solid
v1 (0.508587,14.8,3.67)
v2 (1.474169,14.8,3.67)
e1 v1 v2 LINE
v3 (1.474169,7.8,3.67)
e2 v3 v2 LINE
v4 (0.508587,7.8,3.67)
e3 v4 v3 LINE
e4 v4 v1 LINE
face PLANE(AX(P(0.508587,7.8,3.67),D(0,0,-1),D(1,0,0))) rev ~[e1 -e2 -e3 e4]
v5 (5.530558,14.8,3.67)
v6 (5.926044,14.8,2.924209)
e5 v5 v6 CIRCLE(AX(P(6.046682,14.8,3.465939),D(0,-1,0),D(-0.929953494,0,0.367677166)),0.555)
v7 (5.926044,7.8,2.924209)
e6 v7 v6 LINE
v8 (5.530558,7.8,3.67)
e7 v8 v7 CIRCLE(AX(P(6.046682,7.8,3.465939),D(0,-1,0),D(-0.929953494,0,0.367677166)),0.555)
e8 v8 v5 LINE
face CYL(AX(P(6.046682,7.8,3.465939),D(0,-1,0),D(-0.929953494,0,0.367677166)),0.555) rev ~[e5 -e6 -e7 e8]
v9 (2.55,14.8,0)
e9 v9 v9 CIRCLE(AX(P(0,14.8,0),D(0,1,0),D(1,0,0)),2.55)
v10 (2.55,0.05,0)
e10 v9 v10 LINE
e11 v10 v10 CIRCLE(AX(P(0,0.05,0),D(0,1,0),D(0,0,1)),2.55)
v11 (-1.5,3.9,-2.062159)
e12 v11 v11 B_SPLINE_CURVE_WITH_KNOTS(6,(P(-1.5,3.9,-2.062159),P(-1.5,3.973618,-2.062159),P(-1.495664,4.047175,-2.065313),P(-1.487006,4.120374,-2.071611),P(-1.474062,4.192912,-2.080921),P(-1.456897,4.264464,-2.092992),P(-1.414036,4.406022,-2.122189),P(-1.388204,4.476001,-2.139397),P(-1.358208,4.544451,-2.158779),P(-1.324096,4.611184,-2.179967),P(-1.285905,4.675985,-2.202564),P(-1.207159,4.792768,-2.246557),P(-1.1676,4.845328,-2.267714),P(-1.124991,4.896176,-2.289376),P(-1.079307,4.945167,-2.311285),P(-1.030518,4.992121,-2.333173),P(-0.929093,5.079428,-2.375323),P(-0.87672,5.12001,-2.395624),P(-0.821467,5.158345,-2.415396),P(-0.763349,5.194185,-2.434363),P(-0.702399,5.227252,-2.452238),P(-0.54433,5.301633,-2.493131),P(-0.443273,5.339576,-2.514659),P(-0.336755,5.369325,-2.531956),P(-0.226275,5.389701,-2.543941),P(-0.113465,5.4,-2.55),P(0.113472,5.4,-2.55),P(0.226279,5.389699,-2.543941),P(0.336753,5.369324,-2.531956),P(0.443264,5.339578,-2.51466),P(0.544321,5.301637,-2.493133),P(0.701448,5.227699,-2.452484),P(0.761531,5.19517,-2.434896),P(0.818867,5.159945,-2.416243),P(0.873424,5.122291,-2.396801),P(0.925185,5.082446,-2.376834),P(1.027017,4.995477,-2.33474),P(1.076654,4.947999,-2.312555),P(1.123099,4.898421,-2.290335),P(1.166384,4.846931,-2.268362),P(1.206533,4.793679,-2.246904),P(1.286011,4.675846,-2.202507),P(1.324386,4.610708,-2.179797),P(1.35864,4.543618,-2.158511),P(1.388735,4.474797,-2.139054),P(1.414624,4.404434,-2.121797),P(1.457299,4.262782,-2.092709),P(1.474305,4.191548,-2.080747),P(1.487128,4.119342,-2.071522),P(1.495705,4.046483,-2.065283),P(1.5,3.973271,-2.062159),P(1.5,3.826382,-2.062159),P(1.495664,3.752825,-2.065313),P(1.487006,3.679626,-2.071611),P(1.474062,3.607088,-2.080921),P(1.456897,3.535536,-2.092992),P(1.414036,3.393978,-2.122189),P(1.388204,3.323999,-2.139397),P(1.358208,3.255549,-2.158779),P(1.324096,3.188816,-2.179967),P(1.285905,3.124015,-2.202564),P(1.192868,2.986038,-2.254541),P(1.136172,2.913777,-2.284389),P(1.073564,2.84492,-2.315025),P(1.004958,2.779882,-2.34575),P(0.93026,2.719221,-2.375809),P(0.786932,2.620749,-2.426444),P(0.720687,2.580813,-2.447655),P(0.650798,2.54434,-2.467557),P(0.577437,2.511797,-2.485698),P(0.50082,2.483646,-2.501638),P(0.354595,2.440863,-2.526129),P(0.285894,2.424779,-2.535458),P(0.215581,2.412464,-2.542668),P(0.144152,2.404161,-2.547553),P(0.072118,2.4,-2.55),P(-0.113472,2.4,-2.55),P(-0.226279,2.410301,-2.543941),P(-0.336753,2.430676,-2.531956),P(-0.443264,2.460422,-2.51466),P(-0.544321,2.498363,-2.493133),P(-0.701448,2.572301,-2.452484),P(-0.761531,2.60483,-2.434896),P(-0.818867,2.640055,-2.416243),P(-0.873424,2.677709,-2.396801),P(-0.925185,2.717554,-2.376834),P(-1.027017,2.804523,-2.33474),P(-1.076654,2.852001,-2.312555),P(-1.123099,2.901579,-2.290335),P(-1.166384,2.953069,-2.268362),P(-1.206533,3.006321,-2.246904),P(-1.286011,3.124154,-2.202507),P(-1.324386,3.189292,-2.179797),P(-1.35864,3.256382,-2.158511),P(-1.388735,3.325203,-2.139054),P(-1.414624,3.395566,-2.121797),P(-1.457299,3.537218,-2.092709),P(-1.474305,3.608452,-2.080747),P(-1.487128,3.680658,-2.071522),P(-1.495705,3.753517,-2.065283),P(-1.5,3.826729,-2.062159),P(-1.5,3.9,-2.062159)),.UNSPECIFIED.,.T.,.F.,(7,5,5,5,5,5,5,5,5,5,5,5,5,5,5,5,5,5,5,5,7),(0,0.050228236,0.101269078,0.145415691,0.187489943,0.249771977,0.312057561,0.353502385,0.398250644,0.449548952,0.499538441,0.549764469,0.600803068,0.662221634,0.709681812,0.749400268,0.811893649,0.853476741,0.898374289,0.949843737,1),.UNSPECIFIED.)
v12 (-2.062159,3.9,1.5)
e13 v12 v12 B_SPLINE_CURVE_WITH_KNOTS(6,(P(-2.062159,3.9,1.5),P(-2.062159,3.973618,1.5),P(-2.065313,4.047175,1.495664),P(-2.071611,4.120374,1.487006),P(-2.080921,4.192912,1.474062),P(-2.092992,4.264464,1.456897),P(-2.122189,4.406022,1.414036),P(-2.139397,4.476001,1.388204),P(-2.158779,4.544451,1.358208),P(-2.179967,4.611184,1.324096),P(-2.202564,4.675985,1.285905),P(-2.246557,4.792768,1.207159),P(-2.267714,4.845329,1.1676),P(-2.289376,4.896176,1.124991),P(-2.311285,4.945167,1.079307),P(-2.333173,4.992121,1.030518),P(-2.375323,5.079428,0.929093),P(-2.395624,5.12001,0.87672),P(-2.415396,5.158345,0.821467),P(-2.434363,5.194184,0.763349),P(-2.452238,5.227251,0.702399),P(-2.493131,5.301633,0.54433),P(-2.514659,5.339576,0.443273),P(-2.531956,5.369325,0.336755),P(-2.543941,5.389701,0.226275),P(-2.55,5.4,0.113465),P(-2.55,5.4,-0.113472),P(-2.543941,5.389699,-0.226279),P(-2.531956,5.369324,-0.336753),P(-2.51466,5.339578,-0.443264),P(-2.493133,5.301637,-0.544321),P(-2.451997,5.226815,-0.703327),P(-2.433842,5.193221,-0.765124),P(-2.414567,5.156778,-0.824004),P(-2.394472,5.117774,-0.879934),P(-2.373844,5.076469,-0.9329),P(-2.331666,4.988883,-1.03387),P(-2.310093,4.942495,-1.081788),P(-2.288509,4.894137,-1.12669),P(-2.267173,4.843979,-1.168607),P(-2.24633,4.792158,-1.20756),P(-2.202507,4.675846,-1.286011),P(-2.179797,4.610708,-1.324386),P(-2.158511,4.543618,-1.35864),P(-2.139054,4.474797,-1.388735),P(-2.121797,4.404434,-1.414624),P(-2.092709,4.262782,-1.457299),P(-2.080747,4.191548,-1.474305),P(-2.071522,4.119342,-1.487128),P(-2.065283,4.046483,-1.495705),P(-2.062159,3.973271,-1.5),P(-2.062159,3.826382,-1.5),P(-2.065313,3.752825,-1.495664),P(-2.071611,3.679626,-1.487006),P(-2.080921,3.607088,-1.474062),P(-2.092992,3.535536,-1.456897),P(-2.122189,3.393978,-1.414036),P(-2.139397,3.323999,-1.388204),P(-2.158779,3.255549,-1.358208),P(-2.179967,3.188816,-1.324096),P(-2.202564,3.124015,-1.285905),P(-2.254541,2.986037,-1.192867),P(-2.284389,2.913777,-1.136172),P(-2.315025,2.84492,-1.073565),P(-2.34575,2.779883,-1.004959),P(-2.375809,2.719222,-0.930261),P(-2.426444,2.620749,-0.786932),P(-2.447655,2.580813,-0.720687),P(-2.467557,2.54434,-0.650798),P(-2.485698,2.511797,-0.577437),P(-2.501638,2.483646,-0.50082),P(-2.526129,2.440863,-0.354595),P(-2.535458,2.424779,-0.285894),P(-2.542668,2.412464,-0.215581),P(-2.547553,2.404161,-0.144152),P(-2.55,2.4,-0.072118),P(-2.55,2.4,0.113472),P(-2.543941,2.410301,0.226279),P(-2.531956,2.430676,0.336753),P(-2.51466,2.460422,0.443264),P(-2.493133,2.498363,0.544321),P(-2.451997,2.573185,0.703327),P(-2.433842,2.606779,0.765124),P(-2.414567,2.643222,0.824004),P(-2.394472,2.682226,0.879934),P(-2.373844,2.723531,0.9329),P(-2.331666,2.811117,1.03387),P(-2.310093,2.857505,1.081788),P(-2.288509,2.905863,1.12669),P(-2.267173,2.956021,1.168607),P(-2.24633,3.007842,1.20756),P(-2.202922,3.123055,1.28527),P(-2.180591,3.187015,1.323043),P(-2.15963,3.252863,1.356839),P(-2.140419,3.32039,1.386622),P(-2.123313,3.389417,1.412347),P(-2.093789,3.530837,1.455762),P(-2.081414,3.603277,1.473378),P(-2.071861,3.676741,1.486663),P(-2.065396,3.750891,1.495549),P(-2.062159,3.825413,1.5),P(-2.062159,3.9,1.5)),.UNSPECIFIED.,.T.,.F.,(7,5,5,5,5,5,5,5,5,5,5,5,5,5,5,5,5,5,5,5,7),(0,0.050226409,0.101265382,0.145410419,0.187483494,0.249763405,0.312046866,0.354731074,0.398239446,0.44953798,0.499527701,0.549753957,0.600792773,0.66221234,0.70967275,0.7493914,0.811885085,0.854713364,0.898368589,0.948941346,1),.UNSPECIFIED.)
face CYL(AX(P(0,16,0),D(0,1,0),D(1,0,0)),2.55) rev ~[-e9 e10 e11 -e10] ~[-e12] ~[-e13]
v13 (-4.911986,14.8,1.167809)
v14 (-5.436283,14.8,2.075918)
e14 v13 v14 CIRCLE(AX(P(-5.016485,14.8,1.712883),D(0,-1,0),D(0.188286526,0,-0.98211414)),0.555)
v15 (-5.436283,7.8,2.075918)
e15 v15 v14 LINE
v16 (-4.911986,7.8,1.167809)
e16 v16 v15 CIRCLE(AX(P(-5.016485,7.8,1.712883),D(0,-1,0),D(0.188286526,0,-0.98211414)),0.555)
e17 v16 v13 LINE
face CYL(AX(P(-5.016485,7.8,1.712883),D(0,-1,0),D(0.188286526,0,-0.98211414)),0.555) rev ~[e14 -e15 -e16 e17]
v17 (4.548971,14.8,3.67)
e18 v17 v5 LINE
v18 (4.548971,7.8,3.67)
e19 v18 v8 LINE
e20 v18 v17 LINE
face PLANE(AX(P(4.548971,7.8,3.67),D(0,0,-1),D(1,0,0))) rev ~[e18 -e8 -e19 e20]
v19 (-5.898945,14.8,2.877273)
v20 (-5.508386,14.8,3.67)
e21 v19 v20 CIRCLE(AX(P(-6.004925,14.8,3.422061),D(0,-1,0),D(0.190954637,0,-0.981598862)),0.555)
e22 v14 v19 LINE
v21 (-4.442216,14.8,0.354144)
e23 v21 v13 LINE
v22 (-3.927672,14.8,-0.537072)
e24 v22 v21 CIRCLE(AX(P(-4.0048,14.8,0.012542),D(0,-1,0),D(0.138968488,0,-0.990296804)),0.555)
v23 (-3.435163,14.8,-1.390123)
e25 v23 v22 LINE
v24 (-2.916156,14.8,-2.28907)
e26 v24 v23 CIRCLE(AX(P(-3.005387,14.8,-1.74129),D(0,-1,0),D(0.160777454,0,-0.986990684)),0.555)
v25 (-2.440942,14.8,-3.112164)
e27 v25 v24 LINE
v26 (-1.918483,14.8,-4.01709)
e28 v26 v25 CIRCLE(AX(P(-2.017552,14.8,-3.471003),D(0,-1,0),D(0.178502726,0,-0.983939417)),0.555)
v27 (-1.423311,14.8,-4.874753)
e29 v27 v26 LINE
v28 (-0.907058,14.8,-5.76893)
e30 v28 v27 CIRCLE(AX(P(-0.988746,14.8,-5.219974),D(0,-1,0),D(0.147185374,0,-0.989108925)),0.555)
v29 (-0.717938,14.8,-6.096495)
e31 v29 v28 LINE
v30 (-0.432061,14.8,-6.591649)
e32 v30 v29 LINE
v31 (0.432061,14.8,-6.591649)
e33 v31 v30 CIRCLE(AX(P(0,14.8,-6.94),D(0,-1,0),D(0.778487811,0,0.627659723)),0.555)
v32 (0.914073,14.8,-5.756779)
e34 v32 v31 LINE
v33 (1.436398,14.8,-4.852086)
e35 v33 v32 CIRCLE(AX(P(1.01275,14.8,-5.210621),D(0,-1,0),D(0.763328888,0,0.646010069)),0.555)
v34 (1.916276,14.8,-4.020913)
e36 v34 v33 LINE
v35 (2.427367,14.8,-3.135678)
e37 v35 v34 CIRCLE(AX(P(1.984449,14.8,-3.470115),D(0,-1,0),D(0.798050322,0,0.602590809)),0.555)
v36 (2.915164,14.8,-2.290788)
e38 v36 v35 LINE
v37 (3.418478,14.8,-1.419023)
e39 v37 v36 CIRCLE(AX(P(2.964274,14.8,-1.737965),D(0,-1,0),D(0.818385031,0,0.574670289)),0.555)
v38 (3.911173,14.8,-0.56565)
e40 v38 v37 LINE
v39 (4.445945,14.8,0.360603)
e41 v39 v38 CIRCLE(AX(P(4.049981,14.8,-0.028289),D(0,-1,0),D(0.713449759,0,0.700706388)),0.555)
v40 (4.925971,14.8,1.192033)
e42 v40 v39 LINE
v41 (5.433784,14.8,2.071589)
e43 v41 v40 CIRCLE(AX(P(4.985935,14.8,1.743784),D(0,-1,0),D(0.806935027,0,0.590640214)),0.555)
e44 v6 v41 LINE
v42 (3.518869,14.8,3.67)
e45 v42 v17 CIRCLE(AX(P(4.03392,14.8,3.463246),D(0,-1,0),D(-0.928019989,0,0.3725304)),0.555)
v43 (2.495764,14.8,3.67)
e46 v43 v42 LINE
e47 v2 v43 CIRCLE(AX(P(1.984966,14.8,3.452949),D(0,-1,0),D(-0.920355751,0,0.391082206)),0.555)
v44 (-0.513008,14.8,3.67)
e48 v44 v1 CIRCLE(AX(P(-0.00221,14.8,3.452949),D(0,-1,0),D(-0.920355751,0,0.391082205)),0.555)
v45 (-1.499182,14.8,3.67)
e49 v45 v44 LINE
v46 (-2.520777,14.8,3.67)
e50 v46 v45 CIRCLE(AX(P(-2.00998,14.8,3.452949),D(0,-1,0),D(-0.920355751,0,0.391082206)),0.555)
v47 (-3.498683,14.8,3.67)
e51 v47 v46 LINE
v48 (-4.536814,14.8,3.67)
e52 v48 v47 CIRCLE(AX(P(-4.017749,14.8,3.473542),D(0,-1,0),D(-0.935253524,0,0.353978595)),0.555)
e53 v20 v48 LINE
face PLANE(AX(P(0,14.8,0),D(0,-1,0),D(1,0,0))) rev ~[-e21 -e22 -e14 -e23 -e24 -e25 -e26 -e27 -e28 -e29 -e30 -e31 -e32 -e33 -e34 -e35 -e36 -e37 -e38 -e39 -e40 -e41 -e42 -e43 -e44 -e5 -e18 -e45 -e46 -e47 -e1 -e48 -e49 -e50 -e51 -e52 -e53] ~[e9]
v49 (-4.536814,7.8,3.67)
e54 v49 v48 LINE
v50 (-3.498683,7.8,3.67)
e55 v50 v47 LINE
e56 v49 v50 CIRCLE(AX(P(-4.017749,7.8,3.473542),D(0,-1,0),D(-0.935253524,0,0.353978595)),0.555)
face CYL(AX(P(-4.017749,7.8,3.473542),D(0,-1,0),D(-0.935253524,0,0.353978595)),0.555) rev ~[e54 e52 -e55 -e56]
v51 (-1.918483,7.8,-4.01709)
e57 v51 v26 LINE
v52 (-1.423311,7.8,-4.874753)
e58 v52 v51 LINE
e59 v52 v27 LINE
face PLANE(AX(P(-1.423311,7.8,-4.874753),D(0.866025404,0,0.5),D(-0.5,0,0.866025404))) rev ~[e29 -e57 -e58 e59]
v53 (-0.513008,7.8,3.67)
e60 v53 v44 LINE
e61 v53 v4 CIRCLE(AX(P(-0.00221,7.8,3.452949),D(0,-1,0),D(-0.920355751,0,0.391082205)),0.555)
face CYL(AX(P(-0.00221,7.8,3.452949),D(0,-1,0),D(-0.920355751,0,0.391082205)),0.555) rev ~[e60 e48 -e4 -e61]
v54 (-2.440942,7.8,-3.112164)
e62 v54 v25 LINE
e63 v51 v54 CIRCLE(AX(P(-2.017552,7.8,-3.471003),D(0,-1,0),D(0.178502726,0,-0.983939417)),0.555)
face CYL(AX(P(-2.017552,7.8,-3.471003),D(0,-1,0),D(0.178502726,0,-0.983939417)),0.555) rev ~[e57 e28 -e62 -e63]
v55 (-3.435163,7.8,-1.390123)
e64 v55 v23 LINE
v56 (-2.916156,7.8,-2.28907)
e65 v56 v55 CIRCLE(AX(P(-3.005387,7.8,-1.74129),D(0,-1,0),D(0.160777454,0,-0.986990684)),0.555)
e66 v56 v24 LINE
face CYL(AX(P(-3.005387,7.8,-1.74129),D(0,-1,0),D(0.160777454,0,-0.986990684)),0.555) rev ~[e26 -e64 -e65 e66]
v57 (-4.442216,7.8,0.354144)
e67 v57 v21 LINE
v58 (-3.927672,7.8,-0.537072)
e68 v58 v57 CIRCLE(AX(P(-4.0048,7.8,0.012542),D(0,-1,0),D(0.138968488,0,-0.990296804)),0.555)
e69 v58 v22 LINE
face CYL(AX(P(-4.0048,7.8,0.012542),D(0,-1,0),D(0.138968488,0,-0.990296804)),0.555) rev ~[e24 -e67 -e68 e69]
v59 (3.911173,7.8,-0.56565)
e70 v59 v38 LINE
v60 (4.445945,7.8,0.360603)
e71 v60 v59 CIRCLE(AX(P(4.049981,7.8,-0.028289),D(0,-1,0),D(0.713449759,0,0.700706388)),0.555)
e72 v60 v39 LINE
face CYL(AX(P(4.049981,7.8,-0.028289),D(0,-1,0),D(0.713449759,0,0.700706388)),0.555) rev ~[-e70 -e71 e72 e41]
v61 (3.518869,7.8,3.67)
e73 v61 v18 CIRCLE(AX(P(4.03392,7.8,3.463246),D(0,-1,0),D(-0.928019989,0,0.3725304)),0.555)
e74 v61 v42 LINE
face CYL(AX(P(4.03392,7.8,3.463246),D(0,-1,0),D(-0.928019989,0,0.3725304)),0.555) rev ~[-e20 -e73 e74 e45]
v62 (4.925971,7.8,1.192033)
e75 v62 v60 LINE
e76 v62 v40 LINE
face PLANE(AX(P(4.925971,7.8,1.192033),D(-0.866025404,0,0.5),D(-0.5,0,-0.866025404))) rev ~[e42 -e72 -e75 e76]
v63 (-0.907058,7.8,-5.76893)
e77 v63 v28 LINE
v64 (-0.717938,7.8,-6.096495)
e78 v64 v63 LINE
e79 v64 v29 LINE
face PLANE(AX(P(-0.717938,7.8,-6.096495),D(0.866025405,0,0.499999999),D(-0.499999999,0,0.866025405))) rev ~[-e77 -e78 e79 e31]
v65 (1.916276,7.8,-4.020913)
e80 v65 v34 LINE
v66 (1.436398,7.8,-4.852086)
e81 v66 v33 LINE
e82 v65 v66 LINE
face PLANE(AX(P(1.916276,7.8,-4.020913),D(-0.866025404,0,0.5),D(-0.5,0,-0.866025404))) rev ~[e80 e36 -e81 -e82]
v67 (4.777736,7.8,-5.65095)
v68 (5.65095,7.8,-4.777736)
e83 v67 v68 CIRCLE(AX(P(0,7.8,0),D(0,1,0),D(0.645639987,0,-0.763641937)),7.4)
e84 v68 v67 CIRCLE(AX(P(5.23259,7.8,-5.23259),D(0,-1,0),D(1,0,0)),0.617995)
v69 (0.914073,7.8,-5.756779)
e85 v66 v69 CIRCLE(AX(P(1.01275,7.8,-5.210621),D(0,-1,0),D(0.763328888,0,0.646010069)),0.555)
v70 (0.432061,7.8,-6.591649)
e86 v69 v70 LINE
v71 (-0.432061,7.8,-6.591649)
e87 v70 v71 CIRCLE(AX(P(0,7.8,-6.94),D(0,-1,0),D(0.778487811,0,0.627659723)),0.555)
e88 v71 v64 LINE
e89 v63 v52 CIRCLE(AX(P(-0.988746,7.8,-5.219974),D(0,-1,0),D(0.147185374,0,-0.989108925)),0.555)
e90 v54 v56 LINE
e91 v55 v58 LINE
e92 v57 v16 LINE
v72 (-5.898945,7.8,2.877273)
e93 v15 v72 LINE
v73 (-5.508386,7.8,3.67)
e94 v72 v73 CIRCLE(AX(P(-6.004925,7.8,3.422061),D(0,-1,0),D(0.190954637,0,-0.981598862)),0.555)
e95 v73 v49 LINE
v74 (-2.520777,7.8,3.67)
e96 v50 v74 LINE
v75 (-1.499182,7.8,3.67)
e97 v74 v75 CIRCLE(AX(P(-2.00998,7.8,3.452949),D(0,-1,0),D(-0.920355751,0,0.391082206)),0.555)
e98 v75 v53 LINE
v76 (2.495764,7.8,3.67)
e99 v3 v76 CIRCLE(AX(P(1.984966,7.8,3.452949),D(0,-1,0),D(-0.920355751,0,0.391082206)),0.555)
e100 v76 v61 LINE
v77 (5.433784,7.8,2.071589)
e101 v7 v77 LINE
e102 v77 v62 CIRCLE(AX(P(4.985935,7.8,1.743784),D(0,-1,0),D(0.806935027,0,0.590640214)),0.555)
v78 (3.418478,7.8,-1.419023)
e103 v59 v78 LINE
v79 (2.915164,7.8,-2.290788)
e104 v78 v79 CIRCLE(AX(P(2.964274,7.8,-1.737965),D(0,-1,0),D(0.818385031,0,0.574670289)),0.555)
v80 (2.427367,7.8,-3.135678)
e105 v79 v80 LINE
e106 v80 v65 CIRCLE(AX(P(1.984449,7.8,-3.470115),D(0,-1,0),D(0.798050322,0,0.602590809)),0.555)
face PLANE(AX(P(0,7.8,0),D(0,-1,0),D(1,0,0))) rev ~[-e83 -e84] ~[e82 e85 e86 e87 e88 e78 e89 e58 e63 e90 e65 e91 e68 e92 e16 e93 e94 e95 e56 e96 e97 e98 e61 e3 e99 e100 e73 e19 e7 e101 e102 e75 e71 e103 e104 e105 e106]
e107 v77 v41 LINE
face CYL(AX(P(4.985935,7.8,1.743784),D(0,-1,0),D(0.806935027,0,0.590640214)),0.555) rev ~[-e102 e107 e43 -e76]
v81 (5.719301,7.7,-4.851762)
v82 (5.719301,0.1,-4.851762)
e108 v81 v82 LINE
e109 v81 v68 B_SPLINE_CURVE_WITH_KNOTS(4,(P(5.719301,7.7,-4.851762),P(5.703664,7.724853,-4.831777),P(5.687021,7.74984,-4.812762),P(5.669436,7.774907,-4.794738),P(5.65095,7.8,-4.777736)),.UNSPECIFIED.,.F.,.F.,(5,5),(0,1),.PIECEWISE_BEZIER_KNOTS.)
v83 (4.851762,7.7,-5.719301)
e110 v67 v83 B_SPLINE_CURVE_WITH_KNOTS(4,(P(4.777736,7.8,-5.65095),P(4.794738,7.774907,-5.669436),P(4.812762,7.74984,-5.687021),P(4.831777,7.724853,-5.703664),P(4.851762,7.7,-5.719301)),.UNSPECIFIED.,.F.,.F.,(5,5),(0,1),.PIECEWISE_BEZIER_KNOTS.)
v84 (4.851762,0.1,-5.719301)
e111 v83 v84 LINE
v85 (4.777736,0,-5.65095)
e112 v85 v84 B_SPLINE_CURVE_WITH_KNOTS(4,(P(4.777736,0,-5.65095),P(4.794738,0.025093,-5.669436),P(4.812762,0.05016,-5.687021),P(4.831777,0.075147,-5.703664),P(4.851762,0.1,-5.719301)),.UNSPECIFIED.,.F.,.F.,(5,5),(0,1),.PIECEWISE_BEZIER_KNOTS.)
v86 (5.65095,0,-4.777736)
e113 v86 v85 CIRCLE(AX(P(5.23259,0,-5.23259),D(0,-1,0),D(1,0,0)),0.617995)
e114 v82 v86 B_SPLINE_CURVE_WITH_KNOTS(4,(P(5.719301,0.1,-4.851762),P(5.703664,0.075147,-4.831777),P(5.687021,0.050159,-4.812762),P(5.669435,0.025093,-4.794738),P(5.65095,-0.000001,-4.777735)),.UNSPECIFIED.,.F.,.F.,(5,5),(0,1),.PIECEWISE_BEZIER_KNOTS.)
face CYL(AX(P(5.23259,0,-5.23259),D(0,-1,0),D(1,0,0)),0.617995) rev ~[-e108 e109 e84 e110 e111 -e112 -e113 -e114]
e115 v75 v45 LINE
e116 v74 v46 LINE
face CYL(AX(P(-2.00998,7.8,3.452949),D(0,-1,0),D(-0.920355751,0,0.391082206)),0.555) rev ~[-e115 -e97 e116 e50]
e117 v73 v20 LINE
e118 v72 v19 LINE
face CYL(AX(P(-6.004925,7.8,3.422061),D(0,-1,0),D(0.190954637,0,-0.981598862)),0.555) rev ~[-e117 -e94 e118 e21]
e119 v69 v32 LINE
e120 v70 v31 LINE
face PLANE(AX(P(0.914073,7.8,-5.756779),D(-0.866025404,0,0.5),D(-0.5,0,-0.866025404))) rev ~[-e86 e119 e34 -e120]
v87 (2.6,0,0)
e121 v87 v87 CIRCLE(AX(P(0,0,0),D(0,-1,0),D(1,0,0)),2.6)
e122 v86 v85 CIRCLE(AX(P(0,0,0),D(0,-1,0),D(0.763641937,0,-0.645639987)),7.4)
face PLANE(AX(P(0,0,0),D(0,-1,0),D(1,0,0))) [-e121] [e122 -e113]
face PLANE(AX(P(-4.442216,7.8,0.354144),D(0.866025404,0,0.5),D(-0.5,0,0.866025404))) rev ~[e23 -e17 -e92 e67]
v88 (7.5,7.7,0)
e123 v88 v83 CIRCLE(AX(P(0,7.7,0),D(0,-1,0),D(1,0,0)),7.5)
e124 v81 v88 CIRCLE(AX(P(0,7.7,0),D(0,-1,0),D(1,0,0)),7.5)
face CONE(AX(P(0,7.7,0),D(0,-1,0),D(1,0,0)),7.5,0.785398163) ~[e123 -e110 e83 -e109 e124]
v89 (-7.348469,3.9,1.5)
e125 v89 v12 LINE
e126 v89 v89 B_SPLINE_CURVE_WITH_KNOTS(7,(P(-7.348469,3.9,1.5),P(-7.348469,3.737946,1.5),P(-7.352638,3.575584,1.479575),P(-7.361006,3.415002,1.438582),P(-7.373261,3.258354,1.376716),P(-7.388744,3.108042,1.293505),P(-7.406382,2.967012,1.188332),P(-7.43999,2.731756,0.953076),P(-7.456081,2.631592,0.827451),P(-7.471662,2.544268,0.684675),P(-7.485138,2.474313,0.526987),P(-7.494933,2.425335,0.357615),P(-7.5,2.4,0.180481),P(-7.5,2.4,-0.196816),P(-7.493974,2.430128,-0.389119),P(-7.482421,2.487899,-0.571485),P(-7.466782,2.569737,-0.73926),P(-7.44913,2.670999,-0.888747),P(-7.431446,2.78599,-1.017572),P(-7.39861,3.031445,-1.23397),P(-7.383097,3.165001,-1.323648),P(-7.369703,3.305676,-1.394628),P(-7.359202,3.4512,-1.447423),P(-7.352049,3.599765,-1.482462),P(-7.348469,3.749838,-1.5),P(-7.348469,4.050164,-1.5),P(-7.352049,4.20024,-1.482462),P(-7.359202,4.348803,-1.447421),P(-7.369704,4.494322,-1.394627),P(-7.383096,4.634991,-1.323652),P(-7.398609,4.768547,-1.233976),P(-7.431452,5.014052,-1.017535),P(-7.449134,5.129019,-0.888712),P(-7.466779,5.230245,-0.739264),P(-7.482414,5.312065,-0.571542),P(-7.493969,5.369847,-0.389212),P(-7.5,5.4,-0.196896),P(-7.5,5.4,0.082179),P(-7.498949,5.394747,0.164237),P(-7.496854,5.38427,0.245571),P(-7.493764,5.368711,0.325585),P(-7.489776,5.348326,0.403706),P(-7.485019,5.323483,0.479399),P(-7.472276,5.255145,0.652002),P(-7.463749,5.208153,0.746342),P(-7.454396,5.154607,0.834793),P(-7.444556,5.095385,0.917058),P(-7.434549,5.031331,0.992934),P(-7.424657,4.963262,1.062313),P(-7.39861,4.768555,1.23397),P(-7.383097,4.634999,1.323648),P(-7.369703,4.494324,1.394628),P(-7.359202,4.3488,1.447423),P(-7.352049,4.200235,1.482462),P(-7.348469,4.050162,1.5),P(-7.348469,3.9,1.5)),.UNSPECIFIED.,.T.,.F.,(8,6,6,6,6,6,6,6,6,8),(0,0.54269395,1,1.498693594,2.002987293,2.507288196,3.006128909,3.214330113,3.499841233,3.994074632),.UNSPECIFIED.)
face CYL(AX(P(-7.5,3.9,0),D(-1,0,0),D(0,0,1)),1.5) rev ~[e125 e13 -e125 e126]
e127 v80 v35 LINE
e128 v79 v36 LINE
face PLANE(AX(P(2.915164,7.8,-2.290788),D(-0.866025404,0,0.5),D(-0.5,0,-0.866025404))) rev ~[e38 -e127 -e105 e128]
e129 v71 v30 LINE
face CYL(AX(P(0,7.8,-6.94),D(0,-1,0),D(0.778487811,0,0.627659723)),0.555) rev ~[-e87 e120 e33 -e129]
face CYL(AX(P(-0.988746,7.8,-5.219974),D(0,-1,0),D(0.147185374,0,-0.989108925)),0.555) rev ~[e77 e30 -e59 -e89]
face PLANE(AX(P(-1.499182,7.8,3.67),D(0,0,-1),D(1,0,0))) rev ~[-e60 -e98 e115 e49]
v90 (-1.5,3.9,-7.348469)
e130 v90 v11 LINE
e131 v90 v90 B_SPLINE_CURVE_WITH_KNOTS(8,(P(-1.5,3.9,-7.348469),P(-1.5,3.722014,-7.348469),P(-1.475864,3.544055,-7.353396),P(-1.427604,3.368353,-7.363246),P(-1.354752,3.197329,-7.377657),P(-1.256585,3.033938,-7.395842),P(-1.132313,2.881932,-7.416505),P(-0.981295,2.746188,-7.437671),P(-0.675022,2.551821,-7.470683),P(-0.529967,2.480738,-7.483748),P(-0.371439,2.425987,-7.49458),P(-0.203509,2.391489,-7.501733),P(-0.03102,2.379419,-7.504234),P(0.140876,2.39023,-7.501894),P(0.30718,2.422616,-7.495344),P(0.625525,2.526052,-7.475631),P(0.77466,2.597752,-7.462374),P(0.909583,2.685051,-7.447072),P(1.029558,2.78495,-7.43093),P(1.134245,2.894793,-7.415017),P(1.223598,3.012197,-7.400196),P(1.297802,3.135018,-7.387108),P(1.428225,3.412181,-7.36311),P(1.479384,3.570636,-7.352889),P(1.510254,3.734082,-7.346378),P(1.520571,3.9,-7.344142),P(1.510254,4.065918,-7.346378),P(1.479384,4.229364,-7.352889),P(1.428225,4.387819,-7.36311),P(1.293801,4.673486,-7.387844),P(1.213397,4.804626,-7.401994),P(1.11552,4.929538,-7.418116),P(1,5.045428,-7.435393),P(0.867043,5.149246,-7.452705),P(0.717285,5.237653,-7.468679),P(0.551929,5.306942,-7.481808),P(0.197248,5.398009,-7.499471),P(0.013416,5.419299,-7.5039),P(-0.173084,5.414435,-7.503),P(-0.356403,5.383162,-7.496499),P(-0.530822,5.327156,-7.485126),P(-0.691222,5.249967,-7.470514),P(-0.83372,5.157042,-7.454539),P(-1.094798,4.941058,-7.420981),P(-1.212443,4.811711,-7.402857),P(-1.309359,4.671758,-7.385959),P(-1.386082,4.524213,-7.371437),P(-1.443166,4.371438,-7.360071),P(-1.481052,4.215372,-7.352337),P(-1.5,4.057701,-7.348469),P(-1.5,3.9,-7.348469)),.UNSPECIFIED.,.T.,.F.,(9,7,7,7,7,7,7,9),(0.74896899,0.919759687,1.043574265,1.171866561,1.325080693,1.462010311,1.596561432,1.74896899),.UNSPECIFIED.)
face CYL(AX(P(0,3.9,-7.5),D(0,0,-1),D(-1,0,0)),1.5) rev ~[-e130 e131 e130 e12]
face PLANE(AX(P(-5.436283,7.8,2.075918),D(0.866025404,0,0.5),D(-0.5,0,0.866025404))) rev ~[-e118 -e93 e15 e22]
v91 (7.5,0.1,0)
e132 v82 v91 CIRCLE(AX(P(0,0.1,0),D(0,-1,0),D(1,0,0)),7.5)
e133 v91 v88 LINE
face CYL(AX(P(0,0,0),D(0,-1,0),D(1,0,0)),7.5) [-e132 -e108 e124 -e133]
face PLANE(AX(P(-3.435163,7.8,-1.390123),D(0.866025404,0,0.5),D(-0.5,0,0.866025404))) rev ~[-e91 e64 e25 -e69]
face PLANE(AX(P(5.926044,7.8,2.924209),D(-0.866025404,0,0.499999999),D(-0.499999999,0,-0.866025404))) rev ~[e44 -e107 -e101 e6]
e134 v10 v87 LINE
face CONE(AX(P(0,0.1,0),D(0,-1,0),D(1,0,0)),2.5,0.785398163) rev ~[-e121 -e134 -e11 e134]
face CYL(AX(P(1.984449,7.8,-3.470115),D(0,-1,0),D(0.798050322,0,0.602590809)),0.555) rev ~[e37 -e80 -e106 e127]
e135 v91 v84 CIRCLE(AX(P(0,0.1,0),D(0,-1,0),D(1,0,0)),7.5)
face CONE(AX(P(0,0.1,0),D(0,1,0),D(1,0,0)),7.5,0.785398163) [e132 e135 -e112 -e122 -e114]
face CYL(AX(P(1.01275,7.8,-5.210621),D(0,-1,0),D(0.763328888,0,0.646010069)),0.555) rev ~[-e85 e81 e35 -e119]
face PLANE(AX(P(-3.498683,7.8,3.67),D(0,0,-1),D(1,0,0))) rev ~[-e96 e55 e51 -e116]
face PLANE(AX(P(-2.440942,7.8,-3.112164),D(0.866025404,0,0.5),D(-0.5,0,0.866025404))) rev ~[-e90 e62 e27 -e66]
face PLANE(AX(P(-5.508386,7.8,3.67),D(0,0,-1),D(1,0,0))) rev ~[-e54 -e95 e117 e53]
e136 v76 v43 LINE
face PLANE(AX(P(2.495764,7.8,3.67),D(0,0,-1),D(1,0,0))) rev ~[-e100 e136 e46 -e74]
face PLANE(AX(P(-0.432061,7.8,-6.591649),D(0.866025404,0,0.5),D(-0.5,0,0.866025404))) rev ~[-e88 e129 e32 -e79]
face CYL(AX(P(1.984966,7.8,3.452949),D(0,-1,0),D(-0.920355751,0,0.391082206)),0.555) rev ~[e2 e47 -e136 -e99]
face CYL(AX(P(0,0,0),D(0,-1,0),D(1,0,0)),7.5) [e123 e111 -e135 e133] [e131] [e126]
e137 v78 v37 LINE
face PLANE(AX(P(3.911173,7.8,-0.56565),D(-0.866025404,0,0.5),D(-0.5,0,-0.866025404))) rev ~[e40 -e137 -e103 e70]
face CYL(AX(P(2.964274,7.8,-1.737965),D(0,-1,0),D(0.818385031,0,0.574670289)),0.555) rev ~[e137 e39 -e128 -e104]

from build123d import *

# Parameters (mm, degrees)
P_IDAT_START            = 7.8
SKICA1_R                = 2.5
P_IDAT_VYSUNUT_M1_DEPTH = 7
SKICA2_R                = 3.5
SKICA2_R_2              = 2.5
P_IDAT_VYSUNUT_M2_DEPTH = 7.8
SKICA3_R                = 3.5
SKICA3_R_2              = 2.5
P_IDAT_VYSUNUT_M3_DEPTH = 1.2
SKICA5_R                = 7.5
SKICA5_R_2              = 3.5
P_IDAT_VYSUNUT_M4_DEPTH = 1.2
SKICA6_R                = 7.5
SKICA6_R_2              = 3.5
P_IDAT_VYSUNUT_M5_DEPTH = 7.8
ZKOSEN_1_SIZE           = 0.1
ZKOSEN_2_SIZE           = 0.1
ZKOSEN_3_SIZE           = 0.1
SKETCH8_OUTSIDE_W       = 22.314
SKETCH8_OUTSIDE_H       = 22.314
SKETCH8_OUTSIDE_R       = 6.65
CUT_EXTRUDE2_DEPTH      = 5
SKETCH32_R              = 6.65
CUT_EXTRUDE3_DEPTH      = 7
BOSS_EXTRUDE1_DEPTH     = 7
SKETCH34_R              = 2.55
CUT_EXTRUDE4_DEPTH      = 30
SKETCH20_R              = 1.5
CUT_EXTRUDE5_DEPTH      = 8
SKETCH19_R              = 1.5
CUT_EXTRUDE6_DEPTH      = 8
SKETCH30_R              = 0.617994848
CUT_EXTRUDE7_DEPTH      = 8
SKETCH36_R              = 10.482134683
CUT_EXTRUDE8_DEPTH      = 10


with BuildPart() as part:
    # Skica1 → Přidat vysunutím1 (new body)
    with BuildSketch(Plane(origin=(0, 0, 0), x_dir=(1, 0, 0), z_dir=(0, 1, 0)).offset(P_IDAT_START)):
        with BuildLine():
            ThreePointArc((-5.730143195, 1.098270155), (-5.09645097, 1.530497044), (-5.387174672, 2.240331989))
            ThreePointArc((-5.387174672, 2.240331989), (-5.468060657, 2.292707421), (-5.540463547, 2.356296335))
            ThreePointArc((-5.540463547, 2.356296335), (-5.573874331, 2.399596558), (-5.596043873, 2.44959357))
            ThreePointArc((-5.596043873, 2.44959357), (-5.50369925, 2.650567912), (-5.404139771, 2.848067596))
            ThreePointArc((-5.404139771, 2.848067596), (-5.351227535, 2.86190541), (-5.296542742, 2.862779021))
            ThreePointArc((-5.296542742, 2.862779021), (-5.201685094, 2.845815675), (-5.110305882, 2.815228615))
            ThreePointArc((-5.110305882, 2.815228615), (-4.374063308, 3.030479148), (-4.431206919, 3.795410862))
            ThreePointArc((-4.431206919, 3.795410862), (-4.491949163, 3.870218002), (-4.541158349, 3.953068377))
            ThreePointArc((-4.541158349, 3.953068377), (-4.559553388, 4.004573836), (-4.565187949, 4.058974585))
            ThreePointArc((-4.565187949, 4.058974585), (-4.415258506, 4.221576484), (-4.259541056, 4.378644275))
            ThreePointArc((-4.259541056, 4.378644275), (-4.204942409, 4.375454038), (-4.15266412, 4.359386362))
            ThreePointArc((-4.15266412, 4.359386362), (-4.067691098, 4.313940635), (-3.990236225, 4.256612884))
            ThreePointArc((-3.990236225, 4.256612884), (-3.223511854, 4.233816838), (-3.041481758, 4.978968476))
            ThreePointArc((-3.041481758, 4.978968476), (-3.076134388, 5.06888468), (-3.097332931, 5.162886543))
            ThreePointArc((-3.097332931, 5.162886543), (-3.09891159, 5.217555525), (-3.08745962, 5.271034888))
            ThreePointArc((-3.08745962, 5.271034888), (-2.894621497, 5.379347737), (-2.697988784, 5.480608745))
            ThreePointArc((-2.697988784, 5.480608745), (-2.647048223, 5.460702739), (-2.6022938, 5.429266591))
            ThreePointArc((-2.6022938, 5.429266591), (-2.535523156, 5.359787029), (-2.479574443, 5.281330225))
            ThreePointArc((-2.479574443, 5.281330225), (-1.7574206, 5.022719037), (-1.354035171, 5.675149965))
            ThreePointArc((-1.354035171, 5.675149965), (-1.359206146, 5.771373608), (-1.350318985, 5.867325402))
            ThreePointArc((-1.350318985, 5.867325402), (-1.334926735, 5.919806527), (-1.307509232, 5.967129569))
            ThreePointArc((-1.307509232, 5.967129569), (-1.090638767, 6.010550954), (-0.872338572, 6.046093045))
            ThreePointArc((-0.872338572, 6.046093045), (-0.830042514, 6.01141981), (-0.797192832, 5.967692379))
            ThreePointArc((-0.797192832, 5.967692379), (-0.755160541, 5.880980125), (-0.726194639, 5.789074167))
            ThreePointArc((-0.726194639, 5.789074167), (-0.119300773, 5.319962501), (0.465953812, 5.815808234))
            ThreePointArc((0.465953812, 5.815808234), (0.490770664, 5.908920276), (0.528873591, 5.997429571))
            ThreePointArc((0.528873591, 5.997429571), (0.55973005, 6.04258562), (0.600429269, 6.079120034))
            ThreePointArc((0.600429269, 6.079120034), (0.820103284, 6.053399565), (1.038702217, 6.019743632))
            ThreePointArc((1.038702217, 6.019743632), (1.06821354, 5.973697225), (1.085942924, 5.921958857))
            ThreePointArc((1.085942924, 5.921958857), (1.099122448, 5.826501911), (1.098270155, 5.730143195))
            ThreePointArc((1.098270155, 5.730143195), (1.530497044, 5.09645097), (2.240331989, 5.387174672))
            ThreePointArc((2.240331989, 5.387174672), (2.292707421, 5.468060657), (2.356296335, 5.540463547))
            ThreePointArc((2.356296335, 5.540463547), (2.399596558, 5.573874331), (2.44959357, 5.596043873))
            ThreePointArc((2.44959357, 5.596043873), (2.650567912, 5.50369925), (2.848067596, 5.404139771))
            ThreePointArc((2.848067596, 5.404139771), (2.86190541, 5.351227535), (2.862779021, 5.296542742))
            ThreePointArc((2.862779021, 5.296542742), (2.845815675, 5.201685094), (2.815228615, 5.110305882))
            ThreePointArc((2.815228615, 5.110305882), (3.030479148, 4.374063308), (3.795410862, 4.431206919))
            ThreePointArc((3.795410862, 4.431206919), (3.870218002, 4.491949163), (3.953068377, 4.541158349))
            ThreePointArc((3.953068377, 4.541158349), (4.004573836, 4.559553388), (4.058974585, 4.565187949))
            ThreePointArc((4.058974585, 4.565187949), (4.221576484, 4.415258506), (4.378644275, 4.259541056))
            ThreePointArc((4.378644275, 4.259541056), (4.375454038, 4.204942409), (4.359386362, 4.15266412))
            ThreePointArc((4.359386362, 4.15266412), (4.313940635, 4.067691098), (4.256612884, 3.990236225))
            ThreePointArc((4.256612884, 3.990236225), (4.233816838, 3.223511854), (4.978968476, 3.041481758))
            ThreePointArc((4.978968476, 3.041481758), (5.06888468, 3.076134388), (5.162886543, 3.097332931))
            ThreePointArc((5.162886543, 3.097332931), (5.217555525, 3.09891159), (5.271034888, 3.08745962))
            ThreePointArc((5.271034888, 3.08745962), (5.379347737, 2.894621497), (5.480608745, 2.697988784))
            ThreePointArc((5.480608745, 2.697988784), (5.460702739, 2.647048223), (5.429266591, 2.6022938))
            ThreePointArc((5.429266591, 2.6022938), (5.359787029, 2.535523156), (5.281330225, 2.479574443))
            ThreePointArc((5.281330225, 2.479574443), (5.022719037, 1.7574206), (5.675149965, 1.354035171))
            ThreePointArc((5.675149965, 1.354035171), (5.771373608, 1.359206146), (5.867325402, 1.350318985))
            ThreePointArc((5.867325402, 1.350318985), (5.919806527, 1.334926735), (5.967129569, 1.307509232))
            ThreePointArc((5.967129569, 1.307509232), (6.010550954, 1.090638767), (6.046093045, 0.872338572))
            ThreePointArc((6.046093045, 0.872338572), (6.01141981, 0.830042514), (5.967692379, 0.797192832))
            ThreePointArc((5.967692379, 0.797192832), (5.880980125, 0.755160541), (5.789074167, 0.726194639))
            ThreePointArc((5.789074167, 0.726194639), (5.319962501, 0.119300773), (5.815808234, -0.465953812))
            ThreePointArc((5.815808234, -0.465953812), (5.908920276, -0.490770664), (5.997429571, -0.528873591))
            ThreePointArc((5.997429571, -0.528873591), (6.04258562, -0.55973005), (6.079120034, -0.600429269))
            ThreePointArc((6.079120034, -0.600429269), (6.053399565, -0.820103284), (6.019743632, -1.038702217))
            ThreePointArc((6.019743632, -1.038702217), (5.973697225, -1.06821354), (5.921958857, -1.085942924))
            ThreePointArc((5.921958857, -1.085942924), (5.826501911, -1.099122448), (5.730143195, -1.098270155))
            ThreePointArc((5.730143195, -1.098270155), (5.09645097, -1.530497044), (5.387174672, -2.240331989))
            ThreePointArc((5.387174672, -2.240331989), (5.468060657, -2.292707421), (5.540463547, -2.356296335))
            ThreePointArc((5.540463547, -2.356296335), (5.573874331, -2.399596558), (5.596043873, -2.44959357))
            ThreePointArc((5.596043873, -2.44959357), (5.50369925, -2.650567911), (5.404139771, -2.848067596))
            ThreePointArc((5.404139771, -2.848067596), (5.351227535, -2.86190541), (5.296542742, -2.862779021))
            ThreePointArc((5.296542742, -2.862779021), (5.201685094, -2.845815675), (5.110305882, -2.815228615))
            ThreePointArc((5.110305882, -2.815228615), (4.374063308, -3.030479148), (4.431206919, -3.795410862))
            ThreePointArc((4.431206919, -3.795410862), (4.491949163, -3.870218002), (4.541158349, -3.953068377))
            ThreePointArc((4.541158349, -3.953068377), (4.559553388, -4.004573836), (4.565187949, -4.058974585))
            ThreePointArc((4.565187949, -4.058974585), (4.415258506, -4.221576484), (4.259541056, -4.378644275))
            ThreePointArc((4.259541056, -4.378644275), (4.204942409, -4.375454038), (4.15266412, -4.359386362))
            ThreePointArc((4.15266412, -4.359386362), (4.067691098, -4.313940635), (3.990236225, -4.256612884))
            ThreePointArc((3.990236225, -4.256612884), (3.223511854, -4.233816838), (3.041481758, -4.978968476))
            ThreePointArc((3.041481758, -4.978968476), (3.076134388, -5.06888468), (3.097332931, -5.162886543))
            ThreePointArc((3.097332931, -5.162886543), (3.09891159, -5.217555525), (3.08745962, -5.271034888))
            ThreePointArc((3.08745962, -5.271034888), (2.894621497, -5.379347737), (2.697988784, -5.480608745))
            ThreePointArc((2.697988784, -5.480608745), (2.647048223, -5.460702739), (2.6022938, -5.429266591))
            ThreePointArc((2.6022938, -5.429266591), (2.535523156, -5.359787029), (2.479574443, -5.281330225))
            ThreePointArc((2.479574443, -5.281330225), (1.7574206, -5.022719037), (1.354035171, -5.675149965))
            ThreePointArc((1.354035171, -5.675149965), (1.359206146, -5.771373608), (1.350318985, -5.867325402))
            ThreePointArc((1.350318985, -5.867325402), (1.334926735, -5.919806527), (1.307509232, -5.967129569))
            ThreePointArc((1.307509232, -5.967129569), (1.090638767, -6.010550954), (0.872338572, -6.046093045))
            ThreePointArc((0.872338572, -6.046093045), (0.830042514, -6.01141981), (0.797192832, -5.967692379))
            ThreePointArc((0.797192832, -5.967692379), (0.755160541, -5.880980125), (0.726194639, -5.789074167))
            ThreePointArc((0.726194639, -5.789074167), (0.119300773, -5.319962501), (-0.465953812, -5.815808234))
            ThreePointArc((-0.465953812, -5.815808234), (-0.490770664, -5.908920276), (-0.528873591, -5.997429571))
            ThreePointArc((-0.528873591, -5.997429571), (-0.55973005, -6.04258562), (-0.600429269, -6.079120034))
            ThreePointArc((-0.600429269, -6.079120034), (-0.820103284, -6.053399565), (-1.038702217, -6.019743632))
            ThreePointArc((-1.038702217, -6.019743632), (-1.06821354, -5.973697225), (-1.085942924, -5.921958857))
            ThreePointArc((-1.085942924, -5.921958857), (-1.099122448, -5.826501911), (-1.098270155, -5.730143195))
            ThreePointArc((-1.098270155, -5.730143195), (-1.530497044, -5.09645097), (-2.240331989, -5.387174672))
            ThreePointArc((-2.240331989, -5.387174672), (-2.292707421, -5.468060657), (-2.356296335, -5.540463547))
            ThreePointArc((-2.356296335, -5.540463547), (-2.399596558, -5.573874331), (-2.44959357, -5.596043873))
            ThreePointArc((-2.44959357, -5.596043873), (-2.650567912, -5.50369925), (-2.848067596, -5.404139771))
            ThreePointArc((-2.848067596, -5.404139771), (-2.86190541, -5.351227535), (-2.862779021, -5.296542742))
            ThreePointArc((-2.862779021, -5.296542742), (-2.845815675, -5.201685094), (-2.815228615, -5.110305882))
            ThreePointArc((-2.815228615, -5.110305882), (-3.030479148, -4.374063308), (-3.795410862, -4.431206919))
            ThreePointArc((-3.795410862, -4.431206919), (-3.870218002, -4.491949163), (-3.953068377, -4.541158349))
            ThreePointArc((-3.953068377, -4.541158349), (-4.004573836, -4.559553388), (-4.058974585, -4.565187949))
            ThreePointArc((-4.058974585, -4.565187949), (-4.221576484, -4.415258506), (-4.378644275, -4.259541056))
            ThreePointArc((-4.378644275, -4.259541056), (-4.375454038, -4.204942409), (-4.359386362, -4.15266412))
            ThreePointArc((-4.359386362, -4.15266412), (-4.313940635, -4.067691098), (-4.256612884, -3.990236225))
            ThreePointArc((-4.256612884, -3.990236225), (-4.233816838, -3.223511854), (-4.978968476, -3.041481758))
            ThreePointArc((-4.978968476, -3.041481758), (-5.06888468, -3.076134388), (-5.162886543, -3.097332931))
            ThreePointArc((-5.162886543, -3.097332931), (-5.217555525, -3.09891159), (-5.271034888, -3.08745962))
            ThreePointArc((-5.271034888, -3.08745962), (-5.379347737, -2.894621497), (-5.480608745, -2.697988784))
            ThreePointArc((-5.480608745, -2.697988784), (-5.460702739, -2.647048223), (-5.429266591, -2.6022938))
            ThreePointArc((-5.429266591, -2.6022938), (-5.359787029, -2.535523156), (-5.281330225, -2.479574443))
            ThreePointArc((-5.281330225, -2.479574443), (-5.022719037, -1.7574206), (-5.675149965, -1.354035171))
            ThreePointArc((-5.675149965, -1.354035171), (-5.771373608, -1.359206146), (-5.867325402, -1.350318985))
            ThreePointArc((-5.867325402, -1.350318985), (-5.919806527, -1.334926735), (-5.967129569, -1.307509232))
            ThreePointArc((-5.967129569, -1.307509232), (-6.010550954, -1.090638767), (-6.046093045, -0.872338572))
            ThreePointArc((-6.046093045, -0.872338572), (-6.01141981, -0.830042514), (-5.967692379, -0.797192832))
            ThreePointArc((-5.967692379, -0.797192832), (-5.880980125, -0.755160541), (-5.789074167, -0.726194639))
            ThreePointArc((-5.789074167, -0.726194639), (-5.319962501, -0.119300773), (-5.815808234, 0.465953812))
            ThreePointArc((-5.815808234, 0.465953812), (-5.908920276, 0.490770664), (-5.997429571, 0.528873591))
            ThreePointArc((-5.997429571, 0.528873591), (-6.04258562, 0.55973005), (-6.079120034, 0.600429269))
            ThreePointArc((-6.079120034, 0.600429269), (-6.053399565, 0.820103284), (-6.019743632, 1.038702217))
            ThreePointArc((-6.019743632, 1.038702217), (-5.973697225, 1.06821354), (-5.921958857, 1.085942924))
            ThreePointArc((-5.921958857, 1.085942924), (-5.826501911, 1.099122448), (-5.730143195, 1.098270155))
        make_face()
        Circle(SKICA1_R, mode=Mode.SUBTRACT)
    extrude(amount=P_IDAT_VYSUNUT_M1_DEPTH)

    # Skica2 → Přidat vysunutím2 (add)
    with BuildSketch(Plane.XZ.offset(-7.8)):
        Circle(SKICA2_R)
        Circle(SKICA2_R_2, mode=Mode.SUBTRACT)
    extrude(amount=P_IDAT_VYSUNUT_M2_DEPTH)

    # Skica3 → Přidat vysunutím3 (add)
    with BuildSketch(Plane(origin=(0, 14.8, 0), x_dir=(1, 0, 0), z_dir=(0, 1, 0))):
        Circle(SKICA3_R)
        Circle(SKICA3_R_2, mode=Mode.SUBTRACT)
    extrude(amount=P_IDAT_VYSUNUT_M3_DEPTH)

    # Zkosení2
    zkosen_2_edges = [part.edges().sort_by_distance(p)[0] for p in [
        (-2.5, 0, 0),
        (-2.5, 16, 0),
    ]]
    chamfer(zkosen_2_edges, length=ZKOSEN_2_SIZE)

    # Sketch32 → Cut-Extrude3 (cut)
    with BuildSketch(Plane(origin=(0, 7.8, 0), x_dir=(1, 0, 0), z_dir=(0, 1, 0))):
        Circle(SKETCH32_R)
    extrude(amount=CUT_EXTRUDE3_DEPTH, mode=Mode.SUBTRACT)



with BuildPart() as body_2:
    # Skica5 → Přidat vysunutím4 (new body)
    with BuildSketch(Plane(origin=(0, 16, 0), x_dir=(1, 0, 0), z_dir=(0, 1, 0))):
        Circle(SKICA5_R)
        Circle(SKICA5_R_2, mode=Mode.SUBTRACT)
    extrude(amount=-P_IDAT_VYSUNUT_M4_DEPTH)

    # Zkosení1
    zkosen_1_edges = [body_2.edges().sort_by_distance(p)[0] for p in [
        (-7.5, 16, 0),
        (-7.5, 14.8, 0),
    ]]
    chamfer(zkosen_1_edges, length=ZKOSEN_1_SIZE)

    # Sketch8 outside → Cut-Extrude2 (cut)
    with BuildSketch(Plane(origin=(0, 16, 0), x_dir=(1, 0, 0), z_dir=(0, 1, 0))):
        Rectangle(SKETCH8_OUTSIDE_W, SKETCH8_OUTSIDE_H)
        Circle(SKETCH8_OUTSIDE_R, mode=Mode.SUBTRACT)
    extrude(amount=-CUT_EXTRUDE2_DEPTH, mode=Mode.SUBTRACT)


with BuildPart() as body_3:
    # Skica6 → Přidat vysunutím5 (new body)
    with BuildSketch(Plane.XZ):
        Circle(SKICA6_R)
        Circle(SKICA6_R_2, mode=Mode.SUBTRACT)
    extrude(amount=-P_IDAT_VYSUNUT_M5_DEPTH)

    # Zkosení3
    zkosen_3_edges = [body_3.edges().sort_by_distance(p)[0] for p in [
        (-7.5, 0, 0),
        (-7.5, 7.8, 0),
    ]]
    chamfer(zkosen_3_edges, length=ZKOSEN_3_SIZE)


with BuildPart() as part_1:
    add(part.part)

    add(body_2.part)  # Boss-Extrude1 merges body 2

    add(body_3.part)  # Boss-Extrude1 merges body 3
    # Sketch25 → Boss-Extrude1 (add)
    with BuildSketch(Plane(origin=(0, 7.8, 0), x_dir=(1, 0, 0), z_dir=(0, 1, 0))):
        with BuildLine():
            Line((-0.717938034, 6.096494849), (-0.907057907, 5.768929619))
            ThreePointArc((-0.907057907, 5.768929619), (-0.50810169, 4.942474166), (-1.423311217, 4.874752658))
            Line((-1.423311217, 4.874752658), (-1.918483232, 4.017089569))
            ThreePointArc((-1.918483232, 4.017089569), (-1.536908146, 3.193503192), (-2.440942413, 3.112163722))
            Line((-2.440942413, 3.112163722), (-2.91615597, 2.289069697))
            ThreePointArc((-2.91615597, 2.289069697), (-2.524743358, 1.463789867), (-3.435162962, 1.390123218))
            Line((-3.435162962, 1.390123218), (-3.927672168, 0.53707225))
            ThreePointArc((-3.927672168, 0.53707225), (-3.52415558, -0.290042476), (-4.442216238, -0.354144223))
            Line((-4.442216238, -0.354144223), (-4.911986074, -1.167809446))
            ThreePointArc((-4.911986074, -1.167809446), (-4.535840997, -1.990382794), (-5.436282951, -2.075918275))
            Line((-5.436282951, -2.075918275), (-5.898945462, -2.877273251))
            ThreePointArc((-5.898945462, -2.877273251), (-5.507068696, -3.176777484), (-5.508386199, -3.67))
            Line((-5.508386199, -3.67), (-4.536814361, -3.67))
            ThreePointArc((-4.536814361, -3.67), (-4.017748656, -2.91854188), (-3.49868295, -3.67))
            Line((-3.49868295, -3.67), (-2.520776964, -3.67))
            ThreePointArc((-2.520776964, -3.67), (-2.009979522, -2.897949376), (-1.499182081, -3.67))
            Line((-1.499182081, -3.67), (-0.513007831, -3.67))
            ThreePointArc((-0.513007831, -3.67), (-0.002210389, -2.897949376), (0.508587053, -3.67))
            Line((0.508587053, -3.67), (1.474168799, -3.67))
            ThreePointArc((1.474168799, -3.67), (1.98496624, -2.897949376), (2.495763682, -3.67))
            Line((2.495763682, -3.67), (3.518869287, -3.67))
            ThreePointArc((3.518869287, -3.67), (4.033920381, -2.908245628), (4.548971475, -3.67))
            Line((4.548971475, -3.67), (5.530558251, -3.67))
            ThreePointArc((5.530558251, -3.67), (5.556358411, -3.205925047), (5.92604395, -2.92420921))
            Line((5.92604395, -2.92420921), (5.4337836, -2.071589272))
            ThreePointArc((5.4337836, -2.071589272), (4.505290561, -2.021283953), (4.925971396, -1.192032735))
            Line((4.925971396, -1.192032735), (4.445945351, -0.360603235))
            ThreePointArc((4.445945351, -0.360603235), (3.569336636, -0.24921119), (3.911172652, 0.565650249))
            Line((3.911172652, 0.565650249), (3.418477875, 1.419022635))
            ThreePointArc((3.418477875, 1.419022635), (2.483630084, 1.460464645), (2.915164146, 2.290787587))
            Line((2.915164146, 2.290787587), (2.427366725, 3.135677503))
            ThreePointArc((2.427366725, 3.135677503), (1.503804697, 3.192615402), (1.916276044, 4.02091253))
            Line((1.916276044, 4.02091253), (1.436397938, 4.852085792))
            ThreePointArc((1.436397938, 4.852085792), (0.532106306, 4.93312138), (0.914073244, 5.7567787))
            Line((0.914073244, 5.7567787), (0.432060736, 6.591648854))
            ThreePointArc((0.432060736, 6.591648854), (0, 6.385), (-0.432060736, 6.591648854))
            Line((-0.432060736, 6.591648854), (-0.717938034, 6.096494849))
        make_face()
    extrude(amount=BOSS_EXTRUDE1_DEPTH)

    # Sketch34 → Cut-Extrude4 (cut)
    with BuildSketch(Plane(origin=(0, 16, 0), x_dir=(1, 0, 0), z_dir=(0, 1, 0))):
        Circle(SKETCH34_R)
    extrude(amount=-CUT_EXTRUDE4_DEPTH, mode=Mode.SUBTRACT)

    # Sketch20 → Cut-Extrude5 (cut)
    with BuildSketch(Plane.ZY.offset(7.5)):
        with Locations((0, 3.9)):
            Circle(SKETCH20_R)
    extrude(amount=-CUT_EXTRUDE5_DEPTH, mode=Mode.SUBTRACT)

    # Sketch19 → Cut-Extrude6 (cut)
    with BuildSketch(Plane(origin=(0, 0, -7.5), x_dir=(-1, 0, 0), z_dir=(0, 0, -1))):
        with Locations((0, 3.9)):
            Circle(SKETCH19_R)
    extrude(amount=-CUT_EXTRUDE6_DEPTH, mode=Mode.SUBTRACT)

    # Sketch30 → Cut-Extrude7 (cut)
    with BuildSketch(Plane.XZ):
        with Locations((5.232590181, -5.232590181)):
            Circle(SKETCH30_R)
    extrude(amount=-CUT_EXTRUDE7_DEPTH, mode=Mode.SUBTRACT)

    # Sketch36 → Cut-Extrude8 (cut)
    with BuildSketch(Plane.XZ.offset(-14.8)):
        Circle(SKETCH36_R)
    extrude(amount=-CUT_EXTRUDE8_DEPTH, mode=Mode.SUBTRACT)


solid = part_1.part
